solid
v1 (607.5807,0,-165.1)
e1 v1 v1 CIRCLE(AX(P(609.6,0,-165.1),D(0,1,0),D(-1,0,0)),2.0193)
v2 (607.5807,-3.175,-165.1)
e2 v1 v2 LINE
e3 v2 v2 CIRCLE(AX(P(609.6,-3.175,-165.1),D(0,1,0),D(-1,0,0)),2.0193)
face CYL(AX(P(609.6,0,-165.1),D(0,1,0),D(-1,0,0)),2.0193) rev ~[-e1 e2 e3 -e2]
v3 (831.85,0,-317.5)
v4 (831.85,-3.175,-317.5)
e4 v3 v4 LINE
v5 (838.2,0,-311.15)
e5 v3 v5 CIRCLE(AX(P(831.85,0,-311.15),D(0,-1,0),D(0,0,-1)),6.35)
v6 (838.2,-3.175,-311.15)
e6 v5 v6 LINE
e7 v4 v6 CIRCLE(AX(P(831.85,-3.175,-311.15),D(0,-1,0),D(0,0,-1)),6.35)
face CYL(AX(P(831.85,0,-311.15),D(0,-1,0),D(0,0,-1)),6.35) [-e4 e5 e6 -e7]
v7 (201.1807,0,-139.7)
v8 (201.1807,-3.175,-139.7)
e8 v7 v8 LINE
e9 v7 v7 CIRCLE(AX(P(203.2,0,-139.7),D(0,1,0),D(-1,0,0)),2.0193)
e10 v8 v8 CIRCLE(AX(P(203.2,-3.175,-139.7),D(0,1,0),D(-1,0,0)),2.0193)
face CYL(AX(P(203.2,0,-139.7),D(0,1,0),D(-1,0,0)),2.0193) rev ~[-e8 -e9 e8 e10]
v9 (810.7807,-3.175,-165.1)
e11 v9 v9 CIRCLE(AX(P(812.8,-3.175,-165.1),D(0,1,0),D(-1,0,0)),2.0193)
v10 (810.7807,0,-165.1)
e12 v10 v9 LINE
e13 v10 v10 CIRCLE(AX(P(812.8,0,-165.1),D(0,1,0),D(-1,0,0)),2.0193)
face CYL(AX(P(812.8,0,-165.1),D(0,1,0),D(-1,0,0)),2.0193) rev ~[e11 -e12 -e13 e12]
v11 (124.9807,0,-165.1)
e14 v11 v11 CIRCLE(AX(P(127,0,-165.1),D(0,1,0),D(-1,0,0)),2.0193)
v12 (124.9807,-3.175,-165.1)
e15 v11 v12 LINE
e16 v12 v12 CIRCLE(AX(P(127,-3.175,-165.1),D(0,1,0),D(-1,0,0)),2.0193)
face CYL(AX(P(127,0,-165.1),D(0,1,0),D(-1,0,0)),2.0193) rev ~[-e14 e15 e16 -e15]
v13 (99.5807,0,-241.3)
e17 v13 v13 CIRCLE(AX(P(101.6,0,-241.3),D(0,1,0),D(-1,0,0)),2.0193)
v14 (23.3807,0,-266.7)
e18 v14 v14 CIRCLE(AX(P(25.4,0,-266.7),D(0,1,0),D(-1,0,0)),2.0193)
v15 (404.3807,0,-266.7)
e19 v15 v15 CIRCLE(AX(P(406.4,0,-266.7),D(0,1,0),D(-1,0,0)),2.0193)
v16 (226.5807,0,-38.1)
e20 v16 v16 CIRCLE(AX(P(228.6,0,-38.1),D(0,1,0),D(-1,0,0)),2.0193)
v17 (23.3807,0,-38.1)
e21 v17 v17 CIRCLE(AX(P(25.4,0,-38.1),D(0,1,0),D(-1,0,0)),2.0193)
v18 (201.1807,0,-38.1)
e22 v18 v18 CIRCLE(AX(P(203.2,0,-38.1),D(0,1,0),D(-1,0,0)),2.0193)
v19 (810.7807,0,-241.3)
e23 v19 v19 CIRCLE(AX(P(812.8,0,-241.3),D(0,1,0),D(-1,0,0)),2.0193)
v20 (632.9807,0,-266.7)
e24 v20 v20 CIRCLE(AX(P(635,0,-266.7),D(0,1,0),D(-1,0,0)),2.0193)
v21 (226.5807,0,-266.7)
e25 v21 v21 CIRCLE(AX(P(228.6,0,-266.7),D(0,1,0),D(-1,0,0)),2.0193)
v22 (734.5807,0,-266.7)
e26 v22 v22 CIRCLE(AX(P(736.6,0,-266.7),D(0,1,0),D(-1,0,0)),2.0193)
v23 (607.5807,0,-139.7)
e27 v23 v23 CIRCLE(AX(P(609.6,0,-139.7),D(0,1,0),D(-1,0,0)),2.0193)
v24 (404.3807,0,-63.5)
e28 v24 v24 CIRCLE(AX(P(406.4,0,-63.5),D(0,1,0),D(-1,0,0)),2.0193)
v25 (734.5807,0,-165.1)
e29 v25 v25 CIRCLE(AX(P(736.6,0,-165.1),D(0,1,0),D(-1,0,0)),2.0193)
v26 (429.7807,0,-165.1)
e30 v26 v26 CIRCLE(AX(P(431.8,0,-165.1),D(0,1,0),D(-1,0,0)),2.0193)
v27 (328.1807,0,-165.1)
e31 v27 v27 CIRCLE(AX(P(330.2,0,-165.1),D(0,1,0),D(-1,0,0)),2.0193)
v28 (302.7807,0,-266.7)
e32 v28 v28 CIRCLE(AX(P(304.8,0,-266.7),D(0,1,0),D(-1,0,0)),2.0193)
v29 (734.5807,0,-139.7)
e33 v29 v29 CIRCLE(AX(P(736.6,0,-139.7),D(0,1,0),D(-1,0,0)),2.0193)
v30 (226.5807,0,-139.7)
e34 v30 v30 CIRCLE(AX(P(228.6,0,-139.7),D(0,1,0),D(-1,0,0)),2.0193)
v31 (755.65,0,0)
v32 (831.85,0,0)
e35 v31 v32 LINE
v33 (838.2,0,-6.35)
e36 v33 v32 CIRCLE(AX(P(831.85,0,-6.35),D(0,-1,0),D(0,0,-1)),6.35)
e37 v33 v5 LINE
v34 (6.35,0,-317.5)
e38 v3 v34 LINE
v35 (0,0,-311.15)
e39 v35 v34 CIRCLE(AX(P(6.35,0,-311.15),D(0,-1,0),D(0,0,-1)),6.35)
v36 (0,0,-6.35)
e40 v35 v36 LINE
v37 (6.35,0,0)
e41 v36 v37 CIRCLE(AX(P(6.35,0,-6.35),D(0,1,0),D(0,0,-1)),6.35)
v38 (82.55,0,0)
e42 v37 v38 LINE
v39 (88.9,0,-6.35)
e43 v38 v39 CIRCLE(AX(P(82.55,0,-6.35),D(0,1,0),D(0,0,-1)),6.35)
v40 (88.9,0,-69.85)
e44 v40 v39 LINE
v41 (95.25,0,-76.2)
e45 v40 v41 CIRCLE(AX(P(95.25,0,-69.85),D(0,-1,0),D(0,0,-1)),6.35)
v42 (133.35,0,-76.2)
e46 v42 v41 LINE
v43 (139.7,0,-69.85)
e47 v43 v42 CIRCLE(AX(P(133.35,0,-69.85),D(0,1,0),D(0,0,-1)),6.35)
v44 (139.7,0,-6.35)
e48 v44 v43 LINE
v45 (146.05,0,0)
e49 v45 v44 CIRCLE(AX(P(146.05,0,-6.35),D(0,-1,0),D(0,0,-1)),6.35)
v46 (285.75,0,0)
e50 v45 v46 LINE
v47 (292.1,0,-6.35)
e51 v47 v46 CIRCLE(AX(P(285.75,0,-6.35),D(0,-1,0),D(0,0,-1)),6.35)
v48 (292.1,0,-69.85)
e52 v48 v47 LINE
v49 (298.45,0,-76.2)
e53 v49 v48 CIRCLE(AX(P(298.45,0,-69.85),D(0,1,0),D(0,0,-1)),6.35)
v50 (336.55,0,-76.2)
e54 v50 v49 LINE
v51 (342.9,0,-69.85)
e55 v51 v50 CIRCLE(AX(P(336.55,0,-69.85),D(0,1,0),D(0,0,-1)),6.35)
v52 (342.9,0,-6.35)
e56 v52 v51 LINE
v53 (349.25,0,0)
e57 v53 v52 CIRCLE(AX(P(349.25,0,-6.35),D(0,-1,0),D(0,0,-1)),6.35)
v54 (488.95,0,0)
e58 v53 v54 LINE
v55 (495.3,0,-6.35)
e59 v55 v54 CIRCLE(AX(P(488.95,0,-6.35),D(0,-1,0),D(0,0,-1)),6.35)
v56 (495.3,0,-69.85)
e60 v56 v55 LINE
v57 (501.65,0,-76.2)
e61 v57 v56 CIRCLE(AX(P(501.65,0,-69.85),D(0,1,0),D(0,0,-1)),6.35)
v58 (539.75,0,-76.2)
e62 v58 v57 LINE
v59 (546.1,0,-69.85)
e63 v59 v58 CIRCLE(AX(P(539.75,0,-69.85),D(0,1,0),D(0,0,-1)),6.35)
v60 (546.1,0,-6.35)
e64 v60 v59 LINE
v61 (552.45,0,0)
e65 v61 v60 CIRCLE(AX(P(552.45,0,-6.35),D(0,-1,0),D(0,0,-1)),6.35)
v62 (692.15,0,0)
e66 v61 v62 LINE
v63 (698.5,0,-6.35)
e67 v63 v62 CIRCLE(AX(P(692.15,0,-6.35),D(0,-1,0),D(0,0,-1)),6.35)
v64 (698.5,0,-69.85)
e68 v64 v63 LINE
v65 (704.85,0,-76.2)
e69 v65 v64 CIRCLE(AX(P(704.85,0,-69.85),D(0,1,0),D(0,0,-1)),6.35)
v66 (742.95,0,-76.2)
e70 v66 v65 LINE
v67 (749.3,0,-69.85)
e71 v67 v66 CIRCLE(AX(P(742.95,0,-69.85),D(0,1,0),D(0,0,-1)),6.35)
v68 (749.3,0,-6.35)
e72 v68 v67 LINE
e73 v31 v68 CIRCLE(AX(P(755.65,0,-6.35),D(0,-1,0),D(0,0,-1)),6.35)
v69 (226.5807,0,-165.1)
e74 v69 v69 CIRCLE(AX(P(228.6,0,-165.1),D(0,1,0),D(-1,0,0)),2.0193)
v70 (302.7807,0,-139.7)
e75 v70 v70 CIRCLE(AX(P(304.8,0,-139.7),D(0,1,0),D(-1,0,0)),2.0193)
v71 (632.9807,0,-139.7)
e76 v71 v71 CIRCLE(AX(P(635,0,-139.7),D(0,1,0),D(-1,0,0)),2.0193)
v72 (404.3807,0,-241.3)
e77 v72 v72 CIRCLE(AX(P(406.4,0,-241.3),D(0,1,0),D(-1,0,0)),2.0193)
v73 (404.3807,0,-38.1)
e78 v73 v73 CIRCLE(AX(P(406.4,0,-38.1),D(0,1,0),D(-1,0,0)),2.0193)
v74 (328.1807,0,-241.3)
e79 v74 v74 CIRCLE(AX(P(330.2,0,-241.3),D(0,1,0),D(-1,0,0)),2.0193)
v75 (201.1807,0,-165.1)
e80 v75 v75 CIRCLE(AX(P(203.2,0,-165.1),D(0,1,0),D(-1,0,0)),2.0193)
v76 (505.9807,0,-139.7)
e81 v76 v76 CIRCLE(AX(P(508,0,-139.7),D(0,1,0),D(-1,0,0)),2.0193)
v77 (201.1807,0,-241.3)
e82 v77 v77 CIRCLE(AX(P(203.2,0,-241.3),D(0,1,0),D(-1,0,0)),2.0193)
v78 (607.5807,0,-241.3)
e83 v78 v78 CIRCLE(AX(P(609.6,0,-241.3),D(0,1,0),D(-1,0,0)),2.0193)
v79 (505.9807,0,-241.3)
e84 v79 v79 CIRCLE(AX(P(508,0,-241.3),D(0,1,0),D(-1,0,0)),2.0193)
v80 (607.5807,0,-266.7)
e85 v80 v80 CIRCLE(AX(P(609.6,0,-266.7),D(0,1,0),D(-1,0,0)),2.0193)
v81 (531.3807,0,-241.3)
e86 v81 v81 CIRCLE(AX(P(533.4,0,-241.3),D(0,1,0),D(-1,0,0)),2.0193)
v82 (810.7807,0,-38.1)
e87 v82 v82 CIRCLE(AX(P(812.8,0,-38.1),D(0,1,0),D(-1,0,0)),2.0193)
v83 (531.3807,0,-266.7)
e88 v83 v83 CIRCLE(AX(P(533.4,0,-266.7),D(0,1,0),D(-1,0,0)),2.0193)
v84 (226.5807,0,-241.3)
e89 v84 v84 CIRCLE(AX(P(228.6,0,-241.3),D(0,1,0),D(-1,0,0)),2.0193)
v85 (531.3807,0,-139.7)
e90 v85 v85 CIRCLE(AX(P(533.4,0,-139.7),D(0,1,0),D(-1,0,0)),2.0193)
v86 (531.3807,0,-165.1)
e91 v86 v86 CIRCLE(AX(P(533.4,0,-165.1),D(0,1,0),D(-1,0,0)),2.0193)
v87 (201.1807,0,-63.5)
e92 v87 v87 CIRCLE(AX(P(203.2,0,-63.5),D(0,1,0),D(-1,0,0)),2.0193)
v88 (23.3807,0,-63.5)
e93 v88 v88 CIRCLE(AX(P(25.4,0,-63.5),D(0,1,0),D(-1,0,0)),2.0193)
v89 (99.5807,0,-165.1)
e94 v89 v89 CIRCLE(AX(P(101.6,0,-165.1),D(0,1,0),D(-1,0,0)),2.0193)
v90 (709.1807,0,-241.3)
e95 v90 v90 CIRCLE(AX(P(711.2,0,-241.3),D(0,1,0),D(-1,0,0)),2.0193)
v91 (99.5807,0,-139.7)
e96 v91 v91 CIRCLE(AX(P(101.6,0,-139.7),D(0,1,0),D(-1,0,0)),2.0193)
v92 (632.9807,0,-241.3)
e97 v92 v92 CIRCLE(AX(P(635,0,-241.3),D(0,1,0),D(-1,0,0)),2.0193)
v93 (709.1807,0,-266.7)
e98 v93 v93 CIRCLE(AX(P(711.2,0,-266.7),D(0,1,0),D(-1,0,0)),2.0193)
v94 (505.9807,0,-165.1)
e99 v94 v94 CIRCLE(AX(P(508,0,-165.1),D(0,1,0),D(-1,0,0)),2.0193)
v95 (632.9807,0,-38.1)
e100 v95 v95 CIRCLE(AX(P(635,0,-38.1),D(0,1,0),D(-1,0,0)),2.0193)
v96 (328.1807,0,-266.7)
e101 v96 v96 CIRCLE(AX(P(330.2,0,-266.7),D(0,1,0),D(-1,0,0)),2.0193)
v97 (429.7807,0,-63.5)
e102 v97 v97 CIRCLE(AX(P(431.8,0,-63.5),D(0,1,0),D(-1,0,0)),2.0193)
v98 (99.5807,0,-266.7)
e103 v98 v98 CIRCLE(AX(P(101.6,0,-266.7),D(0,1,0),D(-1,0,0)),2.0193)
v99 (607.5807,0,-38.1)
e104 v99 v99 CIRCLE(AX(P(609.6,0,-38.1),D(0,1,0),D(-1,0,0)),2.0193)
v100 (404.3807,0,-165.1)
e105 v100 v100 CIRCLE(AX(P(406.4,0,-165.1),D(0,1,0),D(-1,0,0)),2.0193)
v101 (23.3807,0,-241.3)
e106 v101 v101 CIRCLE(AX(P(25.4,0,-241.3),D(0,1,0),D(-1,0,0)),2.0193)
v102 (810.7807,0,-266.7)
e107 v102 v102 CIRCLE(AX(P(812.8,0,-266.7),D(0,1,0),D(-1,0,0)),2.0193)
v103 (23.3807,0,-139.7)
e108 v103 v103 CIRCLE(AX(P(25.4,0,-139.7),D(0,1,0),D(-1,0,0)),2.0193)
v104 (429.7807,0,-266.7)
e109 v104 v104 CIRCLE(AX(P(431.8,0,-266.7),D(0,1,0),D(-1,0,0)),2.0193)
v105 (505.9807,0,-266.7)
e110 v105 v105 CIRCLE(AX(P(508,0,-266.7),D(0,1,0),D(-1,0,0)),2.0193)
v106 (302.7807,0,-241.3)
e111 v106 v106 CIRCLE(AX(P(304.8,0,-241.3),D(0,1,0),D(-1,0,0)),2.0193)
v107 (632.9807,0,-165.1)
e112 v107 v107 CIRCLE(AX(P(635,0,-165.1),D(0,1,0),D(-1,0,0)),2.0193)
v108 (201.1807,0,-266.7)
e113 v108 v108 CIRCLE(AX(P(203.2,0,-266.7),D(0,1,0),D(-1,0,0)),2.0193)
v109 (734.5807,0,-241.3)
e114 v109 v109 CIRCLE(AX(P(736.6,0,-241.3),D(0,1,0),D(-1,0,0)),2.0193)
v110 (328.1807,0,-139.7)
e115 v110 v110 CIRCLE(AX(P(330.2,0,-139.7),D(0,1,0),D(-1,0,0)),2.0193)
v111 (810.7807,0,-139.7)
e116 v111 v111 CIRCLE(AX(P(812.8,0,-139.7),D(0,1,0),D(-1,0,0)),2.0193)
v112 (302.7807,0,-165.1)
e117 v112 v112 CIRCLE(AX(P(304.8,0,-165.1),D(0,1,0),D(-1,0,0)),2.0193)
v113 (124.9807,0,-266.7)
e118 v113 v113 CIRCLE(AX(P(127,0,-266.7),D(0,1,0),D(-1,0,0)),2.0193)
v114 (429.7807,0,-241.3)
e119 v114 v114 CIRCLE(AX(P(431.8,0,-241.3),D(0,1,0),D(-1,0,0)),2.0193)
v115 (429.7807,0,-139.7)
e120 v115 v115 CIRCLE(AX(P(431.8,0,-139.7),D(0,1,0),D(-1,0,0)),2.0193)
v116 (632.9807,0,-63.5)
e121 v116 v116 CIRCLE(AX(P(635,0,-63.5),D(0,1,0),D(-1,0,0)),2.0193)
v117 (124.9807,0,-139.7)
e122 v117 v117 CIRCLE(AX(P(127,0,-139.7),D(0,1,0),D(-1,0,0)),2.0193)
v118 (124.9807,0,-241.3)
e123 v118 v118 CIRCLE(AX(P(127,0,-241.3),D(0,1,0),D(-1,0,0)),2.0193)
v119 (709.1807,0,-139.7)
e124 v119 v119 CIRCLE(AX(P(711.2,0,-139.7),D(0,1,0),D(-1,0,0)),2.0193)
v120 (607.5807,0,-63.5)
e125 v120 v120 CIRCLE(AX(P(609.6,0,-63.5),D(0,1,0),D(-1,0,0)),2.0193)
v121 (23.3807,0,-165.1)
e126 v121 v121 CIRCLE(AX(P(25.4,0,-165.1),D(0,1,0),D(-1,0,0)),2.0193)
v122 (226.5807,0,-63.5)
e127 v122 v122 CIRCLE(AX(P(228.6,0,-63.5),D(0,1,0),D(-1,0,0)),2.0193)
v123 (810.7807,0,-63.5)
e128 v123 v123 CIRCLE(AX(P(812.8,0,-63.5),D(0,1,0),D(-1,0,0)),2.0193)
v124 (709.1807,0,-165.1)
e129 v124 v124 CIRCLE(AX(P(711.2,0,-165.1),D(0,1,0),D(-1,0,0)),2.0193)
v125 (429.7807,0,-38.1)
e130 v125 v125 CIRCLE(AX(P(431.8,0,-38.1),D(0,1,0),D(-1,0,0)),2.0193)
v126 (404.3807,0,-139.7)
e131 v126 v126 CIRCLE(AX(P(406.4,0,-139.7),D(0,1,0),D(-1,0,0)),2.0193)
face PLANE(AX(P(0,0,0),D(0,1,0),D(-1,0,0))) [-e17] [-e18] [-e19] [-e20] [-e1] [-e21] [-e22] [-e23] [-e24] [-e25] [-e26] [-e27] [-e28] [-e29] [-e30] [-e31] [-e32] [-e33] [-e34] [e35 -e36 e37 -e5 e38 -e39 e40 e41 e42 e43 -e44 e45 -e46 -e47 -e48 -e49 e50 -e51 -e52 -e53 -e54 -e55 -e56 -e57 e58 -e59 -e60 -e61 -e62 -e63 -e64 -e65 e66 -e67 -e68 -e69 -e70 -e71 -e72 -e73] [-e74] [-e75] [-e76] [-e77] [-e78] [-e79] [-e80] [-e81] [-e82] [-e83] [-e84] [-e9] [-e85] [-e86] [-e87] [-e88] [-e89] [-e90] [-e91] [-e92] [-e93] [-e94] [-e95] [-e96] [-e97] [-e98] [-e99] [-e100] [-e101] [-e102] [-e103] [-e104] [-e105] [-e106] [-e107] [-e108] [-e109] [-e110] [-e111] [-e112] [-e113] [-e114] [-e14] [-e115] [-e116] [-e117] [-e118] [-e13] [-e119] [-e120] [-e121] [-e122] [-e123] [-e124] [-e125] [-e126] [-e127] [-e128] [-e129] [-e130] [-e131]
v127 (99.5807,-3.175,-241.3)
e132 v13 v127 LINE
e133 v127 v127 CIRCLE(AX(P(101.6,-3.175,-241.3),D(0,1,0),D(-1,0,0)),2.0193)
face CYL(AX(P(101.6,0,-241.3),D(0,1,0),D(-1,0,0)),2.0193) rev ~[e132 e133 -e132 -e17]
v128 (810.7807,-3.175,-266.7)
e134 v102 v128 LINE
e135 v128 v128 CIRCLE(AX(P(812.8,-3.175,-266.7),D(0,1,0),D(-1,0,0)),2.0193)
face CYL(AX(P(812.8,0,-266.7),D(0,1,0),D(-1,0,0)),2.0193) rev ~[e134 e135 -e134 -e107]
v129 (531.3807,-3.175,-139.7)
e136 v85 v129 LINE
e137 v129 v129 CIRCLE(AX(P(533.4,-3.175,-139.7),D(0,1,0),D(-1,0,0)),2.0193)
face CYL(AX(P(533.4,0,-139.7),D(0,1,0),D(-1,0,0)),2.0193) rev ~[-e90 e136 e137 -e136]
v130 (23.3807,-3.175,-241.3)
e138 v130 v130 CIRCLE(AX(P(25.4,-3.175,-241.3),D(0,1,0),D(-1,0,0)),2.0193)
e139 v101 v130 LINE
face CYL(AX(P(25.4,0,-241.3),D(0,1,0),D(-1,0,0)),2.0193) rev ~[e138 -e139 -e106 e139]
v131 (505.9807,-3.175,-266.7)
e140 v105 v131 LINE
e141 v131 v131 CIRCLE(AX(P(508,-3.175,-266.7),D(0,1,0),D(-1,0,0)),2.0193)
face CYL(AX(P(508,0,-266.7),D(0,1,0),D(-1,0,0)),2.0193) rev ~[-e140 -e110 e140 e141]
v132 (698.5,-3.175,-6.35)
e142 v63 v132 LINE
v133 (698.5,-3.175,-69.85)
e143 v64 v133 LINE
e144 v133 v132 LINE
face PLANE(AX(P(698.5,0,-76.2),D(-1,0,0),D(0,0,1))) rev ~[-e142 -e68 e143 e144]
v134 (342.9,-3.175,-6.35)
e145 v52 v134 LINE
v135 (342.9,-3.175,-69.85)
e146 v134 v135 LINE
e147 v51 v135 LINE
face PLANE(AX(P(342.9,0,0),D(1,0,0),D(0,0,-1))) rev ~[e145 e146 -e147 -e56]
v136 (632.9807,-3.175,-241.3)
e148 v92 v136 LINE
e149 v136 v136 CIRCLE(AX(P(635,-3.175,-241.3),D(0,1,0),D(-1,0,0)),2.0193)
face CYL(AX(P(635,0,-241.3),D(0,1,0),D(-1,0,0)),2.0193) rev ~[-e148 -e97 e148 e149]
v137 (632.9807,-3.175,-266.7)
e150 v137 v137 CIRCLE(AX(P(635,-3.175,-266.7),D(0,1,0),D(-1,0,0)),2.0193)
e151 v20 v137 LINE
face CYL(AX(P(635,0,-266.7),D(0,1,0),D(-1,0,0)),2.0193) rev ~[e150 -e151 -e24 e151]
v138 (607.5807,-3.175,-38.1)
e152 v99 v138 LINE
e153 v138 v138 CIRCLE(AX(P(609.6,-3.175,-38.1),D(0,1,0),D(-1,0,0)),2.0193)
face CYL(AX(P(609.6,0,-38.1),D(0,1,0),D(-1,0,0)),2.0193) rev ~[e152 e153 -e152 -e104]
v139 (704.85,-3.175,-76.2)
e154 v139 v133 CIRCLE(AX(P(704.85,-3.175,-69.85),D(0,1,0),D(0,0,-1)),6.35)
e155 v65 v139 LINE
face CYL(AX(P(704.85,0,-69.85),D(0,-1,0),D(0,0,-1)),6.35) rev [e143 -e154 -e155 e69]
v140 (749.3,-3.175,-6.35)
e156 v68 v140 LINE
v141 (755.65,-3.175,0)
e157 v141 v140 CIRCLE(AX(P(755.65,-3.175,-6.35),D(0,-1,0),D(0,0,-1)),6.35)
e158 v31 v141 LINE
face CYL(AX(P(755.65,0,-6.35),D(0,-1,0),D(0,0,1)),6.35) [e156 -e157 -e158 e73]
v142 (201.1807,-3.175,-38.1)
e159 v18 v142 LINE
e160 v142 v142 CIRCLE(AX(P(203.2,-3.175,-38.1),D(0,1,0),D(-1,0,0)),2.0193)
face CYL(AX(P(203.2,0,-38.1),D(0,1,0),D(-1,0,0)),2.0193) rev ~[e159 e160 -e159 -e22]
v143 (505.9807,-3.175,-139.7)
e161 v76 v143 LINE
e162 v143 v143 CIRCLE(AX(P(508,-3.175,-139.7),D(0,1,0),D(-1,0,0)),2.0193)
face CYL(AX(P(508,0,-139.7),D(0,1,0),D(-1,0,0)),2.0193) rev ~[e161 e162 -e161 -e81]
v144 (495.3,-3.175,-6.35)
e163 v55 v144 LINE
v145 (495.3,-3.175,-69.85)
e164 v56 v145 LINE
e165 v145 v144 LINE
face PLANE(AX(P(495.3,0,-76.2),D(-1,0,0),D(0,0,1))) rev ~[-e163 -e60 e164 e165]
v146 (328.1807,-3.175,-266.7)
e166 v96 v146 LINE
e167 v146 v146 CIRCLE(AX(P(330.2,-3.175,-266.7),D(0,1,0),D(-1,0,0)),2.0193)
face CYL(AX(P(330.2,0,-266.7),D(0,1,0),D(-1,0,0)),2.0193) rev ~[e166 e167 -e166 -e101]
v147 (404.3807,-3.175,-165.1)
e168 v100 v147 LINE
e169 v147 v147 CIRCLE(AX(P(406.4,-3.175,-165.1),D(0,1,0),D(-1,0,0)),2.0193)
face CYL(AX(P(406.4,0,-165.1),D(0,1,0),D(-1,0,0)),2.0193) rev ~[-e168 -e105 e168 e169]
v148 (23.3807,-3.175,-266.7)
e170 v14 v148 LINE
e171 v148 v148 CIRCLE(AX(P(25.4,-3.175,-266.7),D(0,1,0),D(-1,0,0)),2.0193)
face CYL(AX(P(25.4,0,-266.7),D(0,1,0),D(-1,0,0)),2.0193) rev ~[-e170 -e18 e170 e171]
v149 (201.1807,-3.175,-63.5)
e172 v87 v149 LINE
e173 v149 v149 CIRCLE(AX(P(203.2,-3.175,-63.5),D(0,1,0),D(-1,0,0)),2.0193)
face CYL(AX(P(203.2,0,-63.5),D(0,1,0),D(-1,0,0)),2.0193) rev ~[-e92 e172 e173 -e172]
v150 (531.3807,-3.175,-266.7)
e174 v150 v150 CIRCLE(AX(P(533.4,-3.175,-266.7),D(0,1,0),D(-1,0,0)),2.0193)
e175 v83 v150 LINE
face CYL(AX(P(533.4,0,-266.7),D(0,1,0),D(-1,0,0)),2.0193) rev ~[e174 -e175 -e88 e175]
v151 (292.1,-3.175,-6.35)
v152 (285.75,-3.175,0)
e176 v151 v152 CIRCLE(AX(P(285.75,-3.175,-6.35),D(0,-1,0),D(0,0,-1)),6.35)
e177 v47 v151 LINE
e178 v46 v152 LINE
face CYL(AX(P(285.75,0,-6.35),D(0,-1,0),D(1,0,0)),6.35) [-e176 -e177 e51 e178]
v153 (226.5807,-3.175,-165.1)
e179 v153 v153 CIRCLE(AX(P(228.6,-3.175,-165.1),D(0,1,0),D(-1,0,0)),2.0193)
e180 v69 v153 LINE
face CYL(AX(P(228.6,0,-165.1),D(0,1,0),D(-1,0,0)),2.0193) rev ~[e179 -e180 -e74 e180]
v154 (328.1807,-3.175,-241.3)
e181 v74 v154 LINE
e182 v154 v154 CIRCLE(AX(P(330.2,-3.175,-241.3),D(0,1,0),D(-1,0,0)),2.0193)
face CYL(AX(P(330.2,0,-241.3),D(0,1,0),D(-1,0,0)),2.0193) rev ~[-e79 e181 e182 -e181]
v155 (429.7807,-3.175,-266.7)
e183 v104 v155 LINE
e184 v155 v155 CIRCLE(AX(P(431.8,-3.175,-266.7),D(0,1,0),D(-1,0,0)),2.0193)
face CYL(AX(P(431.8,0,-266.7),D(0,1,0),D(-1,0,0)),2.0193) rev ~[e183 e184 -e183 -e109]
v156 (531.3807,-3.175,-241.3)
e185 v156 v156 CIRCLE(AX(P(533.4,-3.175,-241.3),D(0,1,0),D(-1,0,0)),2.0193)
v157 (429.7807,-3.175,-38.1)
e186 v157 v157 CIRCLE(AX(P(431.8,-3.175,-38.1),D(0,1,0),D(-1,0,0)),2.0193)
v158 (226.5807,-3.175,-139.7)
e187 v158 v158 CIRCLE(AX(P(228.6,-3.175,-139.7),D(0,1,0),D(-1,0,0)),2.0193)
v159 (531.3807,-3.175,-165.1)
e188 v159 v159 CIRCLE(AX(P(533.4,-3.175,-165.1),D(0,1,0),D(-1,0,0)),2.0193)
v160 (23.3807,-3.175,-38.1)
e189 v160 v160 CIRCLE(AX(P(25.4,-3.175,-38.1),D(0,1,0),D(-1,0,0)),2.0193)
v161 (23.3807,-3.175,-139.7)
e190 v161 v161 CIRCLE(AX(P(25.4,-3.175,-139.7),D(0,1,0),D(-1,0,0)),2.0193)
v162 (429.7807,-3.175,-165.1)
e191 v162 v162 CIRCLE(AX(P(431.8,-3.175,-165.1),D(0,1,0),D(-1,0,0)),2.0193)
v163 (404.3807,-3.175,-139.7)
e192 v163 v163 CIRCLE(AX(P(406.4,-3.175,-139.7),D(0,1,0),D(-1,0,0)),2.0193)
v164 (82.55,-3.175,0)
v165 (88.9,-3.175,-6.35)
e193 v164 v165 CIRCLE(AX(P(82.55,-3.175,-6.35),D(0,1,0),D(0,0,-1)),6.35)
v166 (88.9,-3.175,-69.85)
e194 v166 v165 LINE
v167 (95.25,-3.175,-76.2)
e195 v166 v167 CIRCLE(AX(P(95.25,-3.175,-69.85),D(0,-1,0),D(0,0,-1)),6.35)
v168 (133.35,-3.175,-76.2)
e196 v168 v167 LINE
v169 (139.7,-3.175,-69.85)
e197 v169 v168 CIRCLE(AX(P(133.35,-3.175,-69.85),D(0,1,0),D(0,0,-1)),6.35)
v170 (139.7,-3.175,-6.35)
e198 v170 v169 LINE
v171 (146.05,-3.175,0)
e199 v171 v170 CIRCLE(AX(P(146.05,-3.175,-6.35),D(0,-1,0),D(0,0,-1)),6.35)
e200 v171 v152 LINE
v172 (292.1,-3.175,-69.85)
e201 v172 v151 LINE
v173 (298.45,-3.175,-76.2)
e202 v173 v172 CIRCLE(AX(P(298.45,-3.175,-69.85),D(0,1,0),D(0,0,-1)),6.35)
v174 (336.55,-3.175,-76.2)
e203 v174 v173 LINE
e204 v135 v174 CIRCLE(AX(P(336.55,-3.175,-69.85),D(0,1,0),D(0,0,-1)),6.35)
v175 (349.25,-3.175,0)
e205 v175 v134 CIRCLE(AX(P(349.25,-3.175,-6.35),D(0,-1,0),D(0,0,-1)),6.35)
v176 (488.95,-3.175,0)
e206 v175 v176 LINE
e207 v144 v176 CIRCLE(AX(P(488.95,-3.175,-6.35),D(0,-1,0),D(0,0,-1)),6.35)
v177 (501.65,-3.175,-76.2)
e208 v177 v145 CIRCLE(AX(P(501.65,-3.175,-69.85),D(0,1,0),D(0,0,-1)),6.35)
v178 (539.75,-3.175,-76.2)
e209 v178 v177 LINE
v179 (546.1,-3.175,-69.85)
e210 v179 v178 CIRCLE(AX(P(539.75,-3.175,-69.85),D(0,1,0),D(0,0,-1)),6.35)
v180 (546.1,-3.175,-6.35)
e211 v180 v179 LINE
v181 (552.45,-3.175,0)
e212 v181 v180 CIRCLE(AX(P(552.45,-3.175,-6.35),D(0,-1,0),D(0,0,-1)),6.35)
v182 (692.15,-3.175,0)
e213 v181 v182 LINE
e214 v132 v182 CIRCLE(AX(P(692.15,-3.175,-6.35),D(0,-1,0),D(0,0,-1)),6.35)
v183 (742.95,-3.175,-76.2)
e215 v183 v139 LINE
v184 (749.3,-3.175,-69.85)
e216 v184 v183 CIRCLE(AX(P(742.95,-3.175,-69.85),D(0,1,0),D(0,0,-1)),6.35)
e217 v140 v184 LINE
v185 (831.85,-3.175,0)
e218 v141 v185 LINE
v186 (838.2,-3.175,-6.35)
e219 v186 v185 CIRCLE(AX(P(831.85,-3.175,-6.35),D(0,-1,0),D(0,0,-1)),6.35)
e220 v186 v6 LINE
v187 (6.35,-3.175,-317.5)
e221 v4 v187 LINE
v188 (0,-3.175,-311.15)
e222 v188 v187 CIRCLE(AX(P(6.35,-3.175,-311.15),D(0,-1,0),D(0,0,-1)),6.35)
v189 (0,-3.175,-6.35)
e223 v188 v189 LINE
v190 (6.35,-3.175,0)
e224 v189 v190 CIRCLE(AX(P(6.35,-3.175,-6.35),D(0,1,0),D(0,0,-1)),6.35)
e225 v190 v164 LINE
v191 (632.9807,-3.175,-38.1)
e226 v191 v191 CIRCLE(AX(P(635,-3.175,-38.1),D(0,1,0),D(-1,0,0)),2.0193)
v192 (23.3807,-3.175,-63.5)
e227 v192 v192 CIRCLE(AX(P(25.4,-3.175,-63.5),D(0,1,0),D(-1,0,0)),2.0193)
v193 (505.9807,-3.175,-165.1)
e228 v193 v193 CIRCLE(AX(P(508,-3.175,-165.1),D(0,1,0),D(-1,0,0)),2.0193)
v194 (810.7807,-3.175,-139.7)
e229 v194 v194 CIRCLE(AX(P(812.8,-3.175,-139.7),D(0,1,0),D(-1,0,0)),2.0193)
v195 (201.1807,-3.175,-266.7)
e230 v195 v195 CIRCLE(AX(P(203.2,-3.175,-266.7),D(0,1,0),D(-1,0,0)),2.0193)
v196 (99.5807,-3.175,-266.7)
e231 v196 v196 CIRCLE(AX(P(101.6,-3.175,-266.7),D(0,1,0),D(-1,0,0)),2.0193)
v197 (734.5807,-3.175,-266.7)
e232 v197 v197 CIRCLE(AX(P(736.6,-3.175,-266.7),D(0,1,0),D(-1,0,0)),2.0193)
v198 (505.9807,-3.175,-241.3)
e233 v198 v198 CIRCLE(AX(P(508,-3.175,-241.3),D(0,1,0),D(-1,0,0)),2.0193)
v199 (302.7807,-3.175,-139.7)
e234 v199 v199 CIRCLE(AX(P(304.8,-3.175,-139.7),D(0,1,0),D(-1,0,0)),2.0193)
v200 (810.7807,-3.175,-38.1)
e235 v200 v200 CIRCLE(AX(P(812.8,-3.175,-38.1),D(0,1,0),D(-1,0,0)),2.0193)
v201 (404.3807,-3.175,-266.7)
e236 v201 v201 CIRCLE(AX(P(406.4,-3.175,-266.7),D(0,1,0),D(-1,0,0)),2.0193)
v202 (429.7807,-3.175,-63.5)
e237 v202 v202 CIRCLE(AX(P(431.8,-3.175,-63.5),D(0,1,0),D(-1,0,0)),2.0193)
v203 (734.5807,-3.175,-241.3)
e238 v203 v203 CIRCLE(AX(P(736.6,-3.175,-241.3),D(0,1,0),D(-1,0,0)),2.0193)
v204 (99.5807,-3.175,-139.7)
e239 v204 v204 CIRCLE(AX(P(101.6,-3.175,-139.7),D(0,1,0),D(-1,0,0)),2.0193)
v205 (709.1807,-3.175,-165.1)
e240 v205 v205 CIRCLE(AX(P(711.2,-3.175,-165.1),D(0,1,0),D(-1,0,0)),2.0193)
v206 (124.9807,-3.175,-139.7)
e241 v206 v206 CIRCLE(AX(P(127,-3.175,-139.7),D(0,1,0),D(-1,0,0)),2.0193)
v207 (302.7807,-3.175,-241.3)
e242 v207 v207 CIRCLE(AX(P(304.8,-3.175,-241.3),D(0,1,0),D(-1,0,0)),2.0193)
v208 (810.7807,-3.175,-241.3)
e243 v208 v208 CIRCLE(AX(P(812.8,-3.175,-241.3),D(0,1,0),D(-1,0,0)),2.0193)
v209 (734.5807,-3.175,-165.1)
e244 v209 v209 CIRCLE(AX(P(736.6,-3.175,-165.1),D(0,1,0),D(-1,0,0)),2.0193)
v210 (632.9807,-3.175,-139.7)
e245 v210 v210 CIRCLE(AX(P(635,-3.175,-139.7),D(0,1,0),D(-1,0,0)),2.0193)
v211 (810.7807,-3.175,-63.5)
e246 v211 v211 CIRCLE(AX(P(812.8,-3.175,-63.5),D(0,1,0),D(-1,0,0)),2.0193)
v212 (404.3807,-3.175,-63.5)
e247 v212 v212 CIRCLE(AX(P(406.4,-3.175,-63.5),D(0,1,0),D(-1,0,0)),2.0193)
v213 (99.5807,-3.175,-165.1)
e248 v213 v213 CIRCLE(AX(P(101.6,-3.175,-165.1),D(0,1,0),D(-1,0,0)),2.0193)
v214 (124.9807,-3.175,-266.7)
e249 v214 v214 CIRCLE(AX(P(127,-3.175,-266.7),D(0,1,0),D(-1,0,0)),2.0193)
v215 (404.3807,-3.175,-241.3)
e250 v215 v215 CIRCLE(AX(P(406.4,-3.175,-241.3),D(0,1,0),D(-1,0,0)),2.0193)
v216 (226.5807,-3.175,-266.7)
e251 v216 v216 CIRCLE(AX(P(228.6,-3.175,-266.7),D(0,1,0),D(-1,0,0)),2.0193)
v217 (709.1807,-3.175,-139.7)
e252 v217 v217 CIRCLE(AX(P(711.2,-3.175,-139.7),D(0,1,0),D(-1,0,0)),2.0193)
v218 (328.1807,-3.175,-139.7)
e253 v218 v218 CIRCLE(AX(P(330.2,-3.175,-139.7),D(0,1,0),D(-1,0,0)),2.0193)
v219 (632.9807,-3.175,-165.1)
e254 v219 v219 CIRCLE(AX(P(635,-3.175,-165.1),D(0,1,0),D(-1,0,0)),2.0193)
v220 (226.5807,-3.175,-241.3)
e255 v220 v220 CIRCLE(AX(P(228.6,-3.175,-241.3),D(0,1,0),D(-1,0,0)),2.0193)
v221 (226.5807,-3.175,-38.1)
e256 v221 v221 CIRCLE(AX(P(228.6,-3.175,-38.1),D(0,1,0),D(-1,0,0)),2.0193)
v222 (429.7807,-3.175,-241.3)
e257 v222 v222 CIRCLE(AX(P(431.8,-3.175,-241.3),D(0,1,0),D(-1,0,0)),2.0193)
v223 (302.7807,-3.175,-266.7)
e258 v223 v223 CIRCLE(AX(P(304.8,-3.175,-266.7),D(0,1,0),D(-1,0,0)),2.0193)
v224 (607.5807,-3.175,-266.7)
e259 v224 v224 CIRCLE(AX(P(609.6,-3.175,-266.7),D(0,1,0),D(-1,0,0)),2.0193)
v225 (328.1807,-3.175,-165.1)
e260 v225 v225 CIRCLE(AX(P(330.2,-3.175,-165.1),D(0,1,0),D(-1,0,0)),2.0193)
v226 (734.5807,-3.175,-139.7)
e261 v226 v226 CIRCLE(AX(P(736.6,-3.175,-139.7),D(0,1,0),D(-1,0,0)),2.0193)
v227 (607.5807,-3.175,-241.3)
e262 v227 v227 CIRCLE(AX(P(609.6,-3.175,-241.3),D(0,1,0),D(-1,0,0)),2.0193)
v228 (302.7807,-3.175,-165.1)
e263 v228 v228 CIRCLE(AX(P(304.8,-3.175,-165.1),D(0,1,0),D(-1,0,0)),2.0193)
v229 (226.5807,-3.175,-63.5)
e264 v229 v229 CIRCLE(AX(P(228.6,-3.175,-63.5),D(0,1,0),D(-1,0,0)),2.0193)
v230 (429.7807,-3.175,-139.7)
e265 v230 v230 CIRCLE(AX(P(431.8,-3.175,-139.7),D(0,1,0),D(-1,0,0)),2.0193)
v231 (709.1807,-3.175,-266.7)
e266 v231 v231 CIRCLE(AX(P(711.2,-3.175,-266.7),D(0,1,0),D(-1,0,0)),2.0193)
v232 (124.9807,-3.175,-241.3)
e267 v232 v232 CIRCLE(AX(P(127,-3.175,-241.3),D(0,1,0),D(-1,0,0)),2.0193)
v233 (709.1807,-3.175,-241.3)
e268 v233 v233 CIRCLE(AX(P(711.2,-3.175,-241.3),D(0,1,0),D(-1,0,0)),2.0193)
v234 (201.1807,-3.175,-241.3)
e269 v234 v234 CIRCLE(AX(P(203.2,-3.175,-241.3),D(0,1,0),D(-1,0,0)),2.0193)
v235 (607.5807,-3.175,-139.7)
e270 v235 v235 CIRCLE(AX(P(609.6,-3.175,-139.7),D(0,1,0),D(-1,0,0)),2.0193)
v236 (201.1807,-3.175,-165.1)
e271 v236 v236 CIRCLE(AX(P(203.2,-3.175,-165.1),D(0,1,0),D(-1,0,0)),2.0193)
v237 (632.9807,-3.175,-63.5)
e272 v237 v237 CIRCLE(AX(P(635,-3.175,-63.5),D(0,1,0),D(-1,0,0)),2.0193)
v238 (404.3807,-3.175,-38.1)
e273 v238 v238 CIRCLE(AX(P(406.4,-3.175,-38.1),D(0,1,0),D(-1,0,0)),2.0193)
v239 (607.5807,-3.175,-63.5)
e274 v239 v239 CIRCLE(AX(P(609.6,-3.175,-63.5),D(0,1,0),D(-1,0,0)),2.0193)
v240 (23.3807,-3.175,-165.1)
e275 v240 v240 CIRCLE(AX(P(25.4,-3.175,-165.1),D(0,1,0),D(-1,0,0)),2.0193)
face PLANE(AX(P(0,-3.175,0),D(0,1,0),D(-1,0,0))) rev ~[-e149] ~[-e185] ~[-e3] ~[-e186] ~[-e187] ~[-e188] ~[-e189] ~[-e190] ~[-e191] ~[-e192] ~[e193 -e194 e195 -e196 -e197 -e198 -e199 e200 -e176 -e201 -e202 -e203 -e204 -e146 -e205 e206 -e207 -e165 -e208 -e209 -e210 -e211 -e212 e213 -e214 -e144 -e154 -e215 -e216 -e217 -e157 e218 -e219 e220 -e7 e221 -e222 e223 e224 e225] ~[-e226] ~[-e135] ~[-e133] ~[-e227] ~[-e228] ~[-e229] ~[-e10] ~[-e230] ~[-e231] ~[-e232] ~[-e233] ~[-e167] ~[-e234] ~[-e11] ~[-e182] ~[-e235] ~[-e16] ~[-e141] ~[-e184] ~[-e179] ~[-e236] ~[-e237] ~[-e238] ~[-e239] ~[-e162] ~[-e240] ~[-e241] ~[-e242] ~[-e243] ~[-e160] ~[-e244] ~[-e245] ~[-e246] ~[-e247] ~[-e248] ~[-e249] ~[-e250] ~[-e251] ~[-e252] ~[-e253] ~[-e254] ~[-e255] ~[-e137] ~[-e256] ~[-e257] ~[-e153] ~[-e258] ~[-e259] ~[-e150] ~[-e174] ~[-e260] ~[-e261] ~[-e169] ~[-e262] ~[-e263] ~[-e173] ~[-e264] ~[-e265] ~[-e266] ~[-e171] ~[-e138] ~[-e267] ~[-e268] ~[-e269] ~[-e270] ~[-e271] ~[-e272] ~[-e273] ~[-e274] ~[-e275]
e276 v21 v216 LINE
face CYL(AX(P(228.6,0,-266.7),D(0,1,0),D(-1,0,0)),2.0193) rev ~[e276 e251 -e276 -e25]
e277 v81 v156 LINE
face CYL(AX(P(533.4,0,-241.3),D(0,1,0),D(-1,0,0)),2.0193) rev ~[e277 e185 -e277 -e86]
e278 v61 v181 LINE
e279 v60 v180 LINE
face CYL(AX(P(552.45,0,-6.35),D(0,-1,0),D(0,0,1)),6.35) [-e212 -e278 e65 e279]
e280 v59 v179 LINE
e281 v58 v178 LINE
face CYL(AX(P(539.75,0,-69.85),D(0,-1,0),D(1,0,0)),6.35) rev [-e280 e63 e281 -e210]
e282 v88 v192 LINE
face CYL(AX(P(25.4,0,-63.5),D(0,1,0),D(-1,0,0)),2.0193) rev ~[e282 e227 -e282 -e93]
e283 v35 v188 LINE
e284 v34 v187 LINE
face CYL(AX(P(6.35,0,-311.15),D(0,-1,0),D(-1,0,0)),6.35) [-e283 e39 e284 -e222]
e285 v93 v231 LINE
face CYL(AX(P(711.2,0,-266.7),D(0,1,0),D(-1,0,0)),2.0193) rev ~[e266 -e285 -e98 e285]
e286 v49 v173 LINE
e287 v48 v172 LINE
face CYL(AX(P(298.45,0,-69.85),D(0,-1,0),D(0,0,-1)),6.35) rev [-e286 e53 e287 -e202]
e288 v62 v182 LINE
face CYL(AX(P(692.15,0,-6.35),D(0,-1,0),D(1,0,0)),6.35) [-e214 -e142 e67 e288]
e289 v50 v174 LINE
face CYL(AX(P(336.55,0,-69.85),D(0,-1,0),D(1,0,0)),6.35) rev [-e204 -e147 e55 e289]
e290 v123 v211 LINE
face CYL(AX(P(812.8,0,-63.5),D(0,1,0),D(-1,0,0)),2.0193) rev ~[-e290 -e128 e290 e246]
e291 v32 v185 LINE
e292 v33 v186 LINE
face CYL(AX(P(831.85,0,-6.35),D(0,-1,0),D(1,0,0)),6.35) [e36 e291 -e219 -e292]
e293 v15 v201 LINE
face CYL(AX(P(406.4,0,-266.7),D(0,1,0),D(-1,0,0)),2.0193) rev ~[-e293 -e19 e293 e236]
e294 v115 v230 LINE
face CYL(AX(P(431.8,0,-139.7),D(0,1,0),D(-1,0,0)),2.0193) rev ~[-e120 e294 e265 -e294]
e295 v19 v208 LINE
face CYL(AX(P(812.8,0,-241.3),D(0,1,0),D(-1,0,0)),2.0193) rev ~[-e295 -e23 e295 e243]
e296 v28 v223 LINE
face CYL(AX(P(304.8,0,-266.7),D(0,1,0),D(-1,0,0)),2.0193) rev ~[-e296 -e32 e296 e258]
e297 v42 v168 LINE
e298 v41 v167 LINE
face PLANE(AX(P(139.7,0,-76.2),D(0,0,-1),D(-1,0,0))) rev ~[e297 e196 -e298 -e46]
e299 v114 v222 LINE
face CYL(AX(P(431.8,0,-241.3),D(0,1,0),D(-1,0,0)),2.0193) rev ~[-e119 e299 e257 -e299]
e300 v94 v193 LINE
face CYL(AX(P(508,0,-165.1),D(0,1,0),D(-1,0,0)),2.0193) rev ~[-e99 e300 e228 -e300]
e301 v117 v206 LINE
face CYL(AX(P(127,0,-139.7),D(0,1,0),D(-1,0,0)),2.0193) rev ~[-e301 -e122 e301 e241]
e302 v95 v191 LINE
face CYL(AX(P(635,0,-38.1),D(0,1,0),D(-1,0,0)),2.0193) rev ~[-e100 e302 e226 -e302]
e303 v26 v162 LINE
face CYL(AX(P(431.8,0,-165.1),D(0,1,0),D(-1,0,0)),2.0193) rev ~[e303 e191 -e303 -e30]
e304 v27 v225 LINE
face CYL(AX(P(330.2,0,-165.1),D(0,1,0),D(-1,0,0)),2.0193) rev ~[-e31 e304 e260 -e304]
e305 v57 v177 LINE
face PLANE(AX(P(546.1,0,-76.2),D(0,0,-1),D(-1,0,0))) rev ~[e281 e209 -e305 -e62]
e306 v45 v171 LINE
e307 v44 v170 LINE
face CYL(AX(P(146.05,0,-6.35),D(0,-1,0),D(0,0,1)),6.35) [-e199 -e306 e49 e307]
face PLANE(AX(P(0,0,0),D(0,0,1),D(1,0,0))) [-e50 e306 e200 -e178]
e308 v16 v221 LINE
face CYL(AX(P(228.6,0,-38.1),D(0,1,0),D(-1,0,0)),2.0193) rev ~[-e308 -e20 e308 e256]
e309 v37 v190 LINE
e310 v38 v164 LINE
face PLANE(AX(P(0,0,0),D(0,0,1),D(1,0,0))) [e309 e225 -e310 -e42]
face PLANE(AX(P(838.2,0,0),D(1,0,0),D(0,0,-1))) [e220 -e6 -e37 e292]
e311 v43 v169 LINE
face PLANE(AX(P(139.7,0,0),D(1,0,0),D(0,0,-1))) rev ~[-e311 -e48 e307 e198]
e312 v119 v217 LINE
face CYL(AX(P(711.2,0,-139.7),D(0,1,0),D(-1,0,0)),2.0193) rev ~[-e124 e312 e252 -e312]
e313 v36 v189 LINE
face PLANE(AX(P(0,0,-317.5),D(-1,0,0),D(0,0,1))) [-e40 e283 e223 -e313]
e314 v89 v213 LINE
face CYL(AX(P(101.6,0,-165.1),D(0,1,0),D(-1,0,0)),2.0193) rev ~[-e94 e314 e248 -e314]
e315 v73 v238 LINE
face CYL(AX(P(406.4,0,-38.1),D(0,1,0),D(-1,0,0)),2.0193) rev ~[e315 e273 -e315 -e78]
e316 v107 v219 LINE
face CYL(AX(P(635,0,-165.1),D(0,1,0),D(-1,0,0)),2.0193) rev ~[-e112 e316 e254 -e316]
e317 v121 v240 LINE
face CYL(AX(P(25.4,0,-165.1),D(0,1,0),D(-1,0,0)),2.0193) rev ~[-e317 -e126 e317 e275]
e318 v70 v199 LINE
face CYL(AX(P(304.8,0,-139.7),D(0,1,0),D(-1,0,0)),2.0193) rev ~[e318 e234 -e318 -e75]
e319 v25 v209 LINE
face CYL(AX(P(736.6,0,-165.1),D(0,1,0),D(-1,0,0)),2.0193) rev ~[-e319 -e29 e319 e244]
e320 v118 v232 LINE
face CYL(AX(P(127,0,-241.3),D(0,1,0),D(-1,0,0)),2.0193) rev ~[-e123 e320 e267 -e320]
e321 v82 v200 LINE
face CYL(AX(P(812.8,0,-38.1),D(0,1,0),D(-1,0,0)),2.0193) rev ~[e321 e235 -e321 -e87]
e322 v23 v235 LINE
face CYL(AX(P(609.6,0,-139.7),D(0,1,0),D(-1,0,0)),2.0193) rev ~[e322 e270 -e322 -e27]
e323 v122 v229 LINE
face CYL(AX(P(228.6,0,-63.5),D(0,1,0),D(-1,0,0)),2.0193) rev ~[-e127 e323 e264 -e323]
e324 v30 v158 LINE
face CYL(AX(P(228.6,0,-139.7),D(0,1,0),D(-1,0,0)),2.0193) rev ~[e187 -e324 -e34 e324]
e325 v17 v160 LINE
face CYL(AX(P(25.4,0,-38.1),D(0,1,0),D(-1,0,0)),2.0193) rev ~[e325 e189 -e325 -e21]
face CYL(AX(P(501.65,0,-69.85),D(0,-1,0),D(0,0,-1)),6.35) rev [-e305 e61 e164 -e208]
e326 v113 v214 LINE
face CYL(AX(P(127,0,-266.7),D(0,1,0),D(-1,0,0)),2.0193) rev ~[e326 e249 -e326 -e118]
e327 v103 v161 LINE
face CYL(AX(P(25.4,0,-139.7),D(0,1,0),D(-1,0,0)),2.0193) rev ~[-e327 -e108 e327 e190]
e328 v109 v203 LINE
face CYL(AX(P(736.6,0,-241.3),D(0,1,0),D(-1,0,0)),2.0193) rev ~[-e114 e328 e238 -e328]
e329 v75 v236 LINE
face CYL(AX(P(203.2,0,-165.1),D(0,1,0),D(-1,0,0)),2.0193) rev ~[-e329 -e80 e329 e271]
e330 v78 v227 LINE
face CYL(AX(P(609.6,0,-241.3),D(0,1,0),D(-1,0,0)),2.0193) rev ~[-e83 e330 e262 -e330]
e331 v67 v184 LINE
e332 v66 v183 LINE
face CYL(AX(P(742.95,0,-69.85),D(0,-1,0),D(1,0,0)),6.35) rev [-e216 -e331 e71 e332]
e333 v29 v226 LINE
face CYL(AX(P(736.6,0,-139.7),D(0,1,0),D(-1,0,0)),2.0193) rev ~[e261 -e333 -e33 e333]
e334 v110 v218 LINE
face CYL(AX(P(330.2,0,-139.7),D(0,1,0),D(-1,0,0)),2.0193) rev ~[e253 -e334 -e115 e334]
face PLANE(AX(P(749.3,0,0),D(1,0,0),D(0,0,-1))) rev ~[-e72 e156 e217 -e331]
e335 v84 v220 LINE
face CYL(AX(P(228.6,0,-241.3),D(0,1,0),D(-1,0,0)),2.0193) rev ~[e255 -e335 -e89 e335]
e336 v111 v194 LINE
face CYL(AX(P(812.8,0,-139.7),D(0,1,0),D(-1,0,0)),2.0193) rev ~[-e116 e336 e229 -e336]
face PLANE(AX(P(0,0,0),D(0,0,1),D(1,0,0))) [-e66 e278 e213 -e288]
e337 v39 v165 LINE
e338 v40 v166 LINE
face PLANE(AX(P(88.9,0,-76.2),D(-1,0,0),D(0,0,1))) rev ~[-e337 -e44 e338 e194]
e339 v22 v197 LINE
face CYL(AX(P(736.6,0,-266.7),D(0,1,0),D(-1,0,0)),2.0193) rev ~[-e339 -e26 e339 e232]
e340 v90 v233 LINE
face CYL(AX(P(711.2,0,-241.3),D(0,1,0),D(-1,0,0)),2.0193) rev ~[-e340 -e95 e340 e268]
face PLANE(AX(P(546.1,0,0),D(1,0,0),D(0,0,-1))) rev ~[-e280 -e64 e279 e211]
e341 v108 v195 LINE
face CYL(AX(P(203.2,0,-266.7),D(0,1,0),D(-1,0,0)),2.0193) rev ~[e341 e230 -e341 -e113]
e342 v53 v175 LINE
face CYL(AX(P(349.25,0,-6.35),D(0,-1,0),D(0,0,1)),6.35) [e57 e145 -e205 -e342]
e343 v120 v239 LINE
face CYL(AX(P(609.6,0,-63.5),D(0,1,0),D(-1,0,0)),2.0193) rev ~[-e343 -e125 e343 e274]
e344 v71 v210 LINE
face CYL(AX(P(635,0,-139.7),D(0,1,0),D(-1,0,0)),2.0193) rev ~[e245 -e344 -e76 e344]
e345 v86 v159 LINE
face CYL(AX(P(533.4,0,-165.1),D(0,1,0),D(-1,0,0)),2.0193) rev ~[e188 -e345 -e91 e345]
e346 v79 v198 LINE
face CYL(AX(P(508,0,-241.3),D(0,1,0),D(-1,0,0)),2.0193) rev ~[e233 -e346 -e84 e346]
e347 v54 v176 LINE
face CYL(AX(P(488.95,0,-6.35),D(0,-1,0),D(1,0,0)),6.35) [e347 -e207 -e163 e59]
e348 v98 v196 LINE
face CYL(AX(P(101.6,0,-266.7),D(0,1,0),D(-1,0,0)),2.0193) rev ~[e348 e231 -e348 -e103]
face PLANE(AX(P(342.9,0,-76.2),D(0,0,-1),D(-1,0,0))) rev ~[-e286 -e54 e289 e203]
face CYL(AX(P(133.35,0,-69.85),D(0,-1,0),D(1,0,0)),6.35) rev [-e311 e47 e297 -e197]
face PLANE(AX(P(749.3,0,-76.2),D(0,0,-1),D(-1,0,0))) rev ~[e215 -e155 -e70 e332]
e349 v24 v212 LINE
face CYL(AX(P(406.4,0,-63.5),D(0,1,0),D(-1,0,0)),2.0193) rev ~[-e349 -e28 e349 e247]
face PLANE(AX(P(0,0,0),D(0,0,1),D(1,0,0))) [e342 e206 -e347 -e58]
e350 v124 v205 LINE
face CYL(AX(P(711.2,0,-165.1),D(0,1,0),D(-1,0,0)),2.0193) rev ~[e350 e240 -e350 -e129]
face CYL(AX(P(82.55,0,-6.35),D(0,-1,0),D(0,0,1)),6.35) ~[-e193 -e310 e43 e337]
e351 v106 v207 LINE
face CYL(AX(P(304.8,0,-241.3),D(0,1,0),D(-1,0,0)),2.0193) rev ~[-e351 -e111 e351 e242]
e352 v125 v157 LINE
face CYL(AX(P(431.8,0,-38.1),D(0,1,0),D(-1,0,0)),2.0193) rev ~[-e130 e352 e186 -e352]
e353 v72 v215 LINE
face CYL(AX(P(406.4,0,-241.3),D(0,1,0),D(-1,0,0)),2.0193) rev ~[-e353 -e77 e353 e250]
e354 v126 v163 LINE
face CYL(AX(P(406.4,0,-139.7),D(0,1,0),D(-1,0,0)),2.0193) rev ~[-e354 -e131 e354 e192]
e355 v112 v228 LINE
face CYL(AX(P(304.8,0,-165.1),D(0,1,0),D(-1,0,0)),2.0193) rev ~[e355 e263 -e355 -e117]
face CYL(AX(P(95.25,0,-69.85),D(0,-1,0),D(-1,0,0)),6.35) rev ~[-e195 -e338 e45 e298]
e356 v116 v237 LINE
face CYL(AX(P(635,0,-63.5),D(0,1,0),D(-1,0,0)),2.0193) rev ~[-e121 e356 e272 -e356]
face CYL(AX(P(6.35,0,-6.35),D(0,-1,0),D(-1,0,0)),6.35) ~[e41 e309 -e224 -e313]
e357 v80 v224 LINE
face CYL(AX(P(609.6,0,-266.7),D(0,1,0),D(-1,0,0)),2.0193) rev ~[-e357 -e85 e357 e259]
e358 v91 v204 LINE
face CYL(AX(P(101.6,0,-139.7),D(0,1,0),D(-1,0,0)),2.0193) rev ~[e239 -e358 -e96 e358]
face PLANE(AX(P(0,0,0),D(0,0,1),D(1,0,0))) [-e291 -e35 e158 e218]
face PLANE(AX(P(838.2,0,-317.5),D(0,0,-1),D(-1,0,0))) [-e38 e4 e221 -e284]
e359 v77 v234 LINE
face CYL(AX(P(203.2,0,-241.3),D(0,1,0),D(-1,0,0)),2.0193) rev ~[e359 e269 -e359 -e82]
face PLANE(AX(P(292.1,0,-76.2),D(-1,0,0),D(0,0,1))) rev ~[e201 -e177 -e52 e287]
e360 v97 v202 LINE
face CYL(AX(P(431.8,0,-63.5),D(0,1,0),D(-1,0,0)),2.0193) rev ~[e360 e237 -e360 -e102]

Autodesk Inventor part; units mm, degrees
ref_plane "YZ Plane" through (0, 0, 0) normal (1, 0, 0) x (0, 1, 0)
ref_plane "XZ Plane" through (0, 0, 0) normal (0, 1, 0) x (-1, 0, 0)
ref_plane "XY Plane" through (0, 0, 0) normal (0, 0, 1) x (1, 0, 0)
sketch "Sketch1" plane through (0, 0, 0) normal (0, 1, 0) x (-1, 0, 0)
  line L0 (0, 0) -> (-838.2, 0)
  line L1 (-838.2, 0) -> (-838.2, -317.5)
  line L2 (-838.2, -317.5) -> (0, -317.5)
  line L3 (0, -317.5) -> (0, 0)
  circle A0 centre (-63.5, -50.8) radius 44.45 construction
  circle A1 centre (-25.4, -63.5) radius 2.0193
  circle A2 centre (-101.6, -63.5) radius 2.0193
  circle A3 centre (-25.4, -38.1) radius 2.0193
  circle A4 centre (-101.6, -38.1) radius 2.0193
  circle A5 centre (-63.5, -50.8) radius 1.27 construction
  circle A6 centre (-127, -38.1) radius 2.0193
  circle A7 centre (-127, -63.5) radius 2.0193
  circle A8 centre (-165.1, -50.8) radius 1.27 construction
  circle A9 centre (-203.2, -63.5) radius 2.0193
  circle A10 centre (-203.2, -38.1) radius 2.0193
  circle A11 centre (-228.6, -38.1) radius 2.0193
  circle A12 centre (-228.6, -63.5) radius 2.0193
  circle A13 centre (-266.7, -50.8) radius 1.27 construction
  circle A14 centre (-304.8, -63.5) radius 2.0193
  circle A15 centre (-304.8, -38.1) radius 2.0193
  circle A16 centre (-330.2, -38.1) radius 2.0193
  circle A17 centre (-330.2, -63.5) radius 2.0193
  circle A18 centre (-368.3, -50.8) radius 1.27 construction
  circle A19 centre (-406.4, -63.5) radius 2.0193
  circle A20 centre (-406.4, -38.1) radius 2.0193
  circle A21 centre (-431.8, -38.1) radius 2.0193
  circle A22 centre (-431.8, -63.5) radius 2.0193
  circle A23 centre (-469.9, -50.8) radius 1.27 construction
  circle A24 centre (-508, -63.5) radius 2.0193
  circle A25 centre (-508, -38.1) radius 2.0193
  circle A26 centre (-533.4, -38.1) radius 2.0193
  circle A27 centre (-533.4, -63.5) radius 2.0193
  circle A28 centre (-571.5, -50.8) radius 1.27 construction
  circle A29 centre (-609.6, -63.5) radius 2.0193
  circle A30 centre (-609.6, -38.1) radius 2.0193
  circle A31 centre (-635, -38.1) radius 2.0193
  circle A32 centre (-635, -63.5) radius 2.0193
  circle A33 centre (-673.1, -50.8) radius 1.27 construction
  circle A34 centre (-711.2, -63.5) radius 2.0193
  circle A35 centre (-711.2, -38.1) radius 2.0193
  circle A36 centre (-736.6, -38.1) radius 2.0193
  circle A37 centre (-736.6, -63.5) radius 2.0193
  circle A38 centre (-774.7, -50.8) radius 1.27 construction
  circle A39 centre (-812.8, -63.5) radius 2.0193
  circle A40 centre (-812.8, -38.1) radius 2.0193
  circle A41 centre (-25.4, -139.7) radius 2.0193
  circle A42 centre (-25.4, -165.1) radius 2.0193
  circle A43 centre (-63.5, -152.4) radius 1.27 construction
  circle A44 centre (-101.6, -165.1) radius 2.0193
  circle A45 centre (-101.6, -139.7) radius 2.0193
  circle A46 centre (-127, -139.7) radius 2.0193
  circle A47 centre (-127, -165.1) radius 2.0193
  circle A48 centre (-165.1, -152.4) radius 1.27 construction
  circle A49 centre (-203.2, -165.1) radius 2.0193
  circle A50 centre (-203.2, -139.7) radius 2.0193
  circle A51 centre (-228.6, -139.7) radius 2.0193
  circle A52 centre (-228.6, -165.1) radius 2.0193
  circle A53 centre (-266.7, -152.4) radius 1.27 construction
  circle A54 centre (-304.8, -165.1) radius 2.0193
  circle A55 centre (-304.8, -139.7) radius 2.0193
  circle A56 centre (-330.2, -139.7) radius 2.0193
  circle A57 centre (-330.2, -165.1) radius 2.0193
  circle A58 centre (-368.3, -152.4) radius 1.27 construction
  circle A59 centre (-406.4, -165.1) radius 2.0193
  circle A60 centre (-406.4, -139.7) radius 2.0193
  circle A61 centre (-431.8, -139.7) radius 2.0193
  circle A62 centre (-431.8, -165.1) radius 2.0193
  circle A63 centre (-469.9, -152.4) radius 1.27 construction
  circle A64 centre (-508, -165.1) radius 2.0193
  circle A65 centre (-508, -139.7) radius 2.0193
  circle A66 centre (-533.4, -139.7) radius 2.0193
  circle A67 centre (-533.4, -165.1) radius 2.0193
  circle A68 centre (-571.5, -152.4) radius 1.27 construction
  circle A69 centre (-609.6, -165.1) radius 2.0193
  circle A70 centre (-609.6, -139.7) radius 2.0193
  circle A71 centre (-635, -139.7) radius 2.0193
  circle A72 centre (-635, -165.1) radius 2.0193
  circle A73 centre (-673.1, -152.4) radius 1.27 construction
  circle A74 centre (-711.2, -165.1) radius 2.0193
  circle A75 centre (-711.2, -139.7) radius 2.0193
  circle A76 centre (-736.6, -139.7) radius 2.0193
  circle A77 centre (-736.6, -165.1) radius 2.0193
  circle A78 centre (-774.7, -152.4) radius 1.27 construction
  circle A79 centre (-812.8, -165.1) radius 2.0193
  circle A80 centre (-812.8, -139.7) radius 2.0193
  circle A81 centre (-25.4, -241.3) radius 2.0193
  circle A82 centre (-25.4, -266.7) radius 2.0193
  circle A83 centre (-63.5, -254) radius 1.27 construction
  circle A84 centre (-101.6, -266.7) radius 2.0193
  circle A85 centre (-101.6, -241.3) radius 2.0193
  circle A86 centre (-127, -241.3) radius 2.0193
  circle A87 centre (-127, -266.7) radius 2.0193
  circle A88 centre (-165.1, -254) radius 1.27 construction
  circle A89 centre (-203.2, -266.7) radius 2.0193
  circle A90 centre (-203.2, -241.3) radius 2.0193
  circle A91 centre (-228.6, -241.3) radius 2.0193
  circle A92 centre (-228.6, -266.7) radius 2.0193
  circle A93 centre (-266.7, -254) radius 1.27 construction
  circle A94 centre (-304.8, -266.7) radius 2.0193
  circle A95 centre (-304.8, -241.3) radius 2.0193
  circle A96 centre (-330.2, -241.3) radius 2.0193
  circle A97 centre (-330.2, -266.7) radius 2.0193
  circle A98 centre (-368.3, -254) radius 1.27 construction
  circle A99 centre (-406.4, -266.7) radius 2.0193
  circle A100 centre (-406.4, -241.3) radius 2.0193
  circle A101 centre (-431.8, -241.3) radius 2.0193
  circle A102 centre (-431.8, -266.7) radius 2.0193
  circle A103 centre (-469.9, -254) radius 1.27 construction
  circle A104 centre (-508, -266.7) radius 2.0193
  circle A105 centre (-508, -241.3) radius 2.0193
  circle A106 centre (-533.4, -241.3) radius 2.0193
  circle A107 centre (-533.4, -266.7) radius 2.0193
  circle A108 centre (-571.5, -254) radius 1.27 construction
  circle A109 centre (-609.6, -266.7) radius 2.0193
  circle A110 centre (-609.6, -241.3) radius 2.0193
  circle A111 centre (-635, -241.3) radius 2.0193
  circle A112 centre (-635, -266.7) radius 2.0193
  circle A113 centre (-673.1, -254) radius 1.27 construction
  circle A114 centre (-711.2, -266.7) radius 2.0193
  circle A115 centre (-711.2, -241.3) radius 2.0193
  circle A116 centre (-736.6, -241.3) radius 2.0193
  circle A117 centre (-736.6, -266.7) radius 2.0193
  circle A118 centre (-774.7, -254) radius 1.27 construction
  circle A119 centre (-812.8, -266.7) radius 2.0193
  circle A120 centre (-812.8, -241.3) radius 2.0193
  dimension "d2" = 88.9
  dimension "d3" = 63.5
  dimension "d4" = 50.8
  dimension "d15" = 838.2
  dimension "d16" = 317.5
  dimension "d44" = 4.0386
  dimension "d49" = 76.2
  dimension "d52" = 25.4
  dimension "d126" = 12.7
  dimension "d127" = 38.1
  dimension "d130" = 101.6
  dimension "d133" = 101.6
  dimension "d153" = 63.5
  dimension "d154" = 2.54
extrude "Extrusion1" add sketch "Sketch1" against normal blind 3.175
sketch "Sketch5" plane through (0, 0, 0) normal (0, 1, 0) x (1, 0, 0)
  line L0 (838.2, 0) -> (0, 0) projected
  line L1 (88.9, 0) -> (139.7, 0)
  line L2 (139.7, 0) -> (139.7, 76.2)
  line L3 (139.7, 76.2) -> (88.9, 76.2)
  line L4 (88.9, 76.2) -> (88.9, 0)
  circle A0 centre (101.6, 63.5) radius 2.0193 projected
  circle A1 centre (127, 63.5) radius 2.0193 projected
  line L5 (292.1, 76.2) -> (292.1, 0)
  line L6 (342.9, 76.2) -> (292.1, 76.2)
  line L7 (342.9, 0) -> (342.9, 76.2)
  line L8 (292.1, 0) -> (342.9, 0)
  line L9 (495.3, 76.2) -> (495.3, 0)
  line L10 (546.1, 76.2) -> (495.3, 76.2)
  line L11 (546.1, 0) -> (546.1, 76.2)
  line L12 (495.3, 0) -> (546.1, 0)
  line L13 (698.5, 76.2) -> (698.5, 0)
  line L14 (749.3, 76.2) -> (698.5, 76.2)
  line L15 (749.3, 0) -> (749.3, 76.2)
  line L16 (698.5, 0) -> (749.3, 0)
  dimension "d155" = 12.7
  dimension "d156" = 12.7
  dimension "d157" = 12.7
  dimension "d160" = 203.2
extrude "Extrusion4" cut sketch "Sketch5" against normal through all
fillet "Fillet1" radius 6.35 20 edges at (0, -1.5875, 0) (838.2, -1.5875, 0) (838.2, -1.5875, -317.5) (0, -1.5875, -317.5) (749.3, -1.5875, -76.2) (698.5, -1.5875, -76.2) (546.1, -1.5875, -76.2) (495.3, -1.5875, -76.2) (88.9, -1.5875, -76.2) (139.7, -1.5875, -76.2) (342.9, -1.5875, -76.2) (292.1, -1.5875, -76.2) (88.9, -1.5875, 0) (139.7, -1.5875, 0) (342.9, -1.5875, 0) (292.1, -1.5875, 0) (495.3, -1.5875, 0) (546.1, -1.5875, 0) (698.5, -1.5875, 0) (749.3, -1.5875, 0)
properties part number "CC-bottomPlate" material "Polycarbonate, Clear"
